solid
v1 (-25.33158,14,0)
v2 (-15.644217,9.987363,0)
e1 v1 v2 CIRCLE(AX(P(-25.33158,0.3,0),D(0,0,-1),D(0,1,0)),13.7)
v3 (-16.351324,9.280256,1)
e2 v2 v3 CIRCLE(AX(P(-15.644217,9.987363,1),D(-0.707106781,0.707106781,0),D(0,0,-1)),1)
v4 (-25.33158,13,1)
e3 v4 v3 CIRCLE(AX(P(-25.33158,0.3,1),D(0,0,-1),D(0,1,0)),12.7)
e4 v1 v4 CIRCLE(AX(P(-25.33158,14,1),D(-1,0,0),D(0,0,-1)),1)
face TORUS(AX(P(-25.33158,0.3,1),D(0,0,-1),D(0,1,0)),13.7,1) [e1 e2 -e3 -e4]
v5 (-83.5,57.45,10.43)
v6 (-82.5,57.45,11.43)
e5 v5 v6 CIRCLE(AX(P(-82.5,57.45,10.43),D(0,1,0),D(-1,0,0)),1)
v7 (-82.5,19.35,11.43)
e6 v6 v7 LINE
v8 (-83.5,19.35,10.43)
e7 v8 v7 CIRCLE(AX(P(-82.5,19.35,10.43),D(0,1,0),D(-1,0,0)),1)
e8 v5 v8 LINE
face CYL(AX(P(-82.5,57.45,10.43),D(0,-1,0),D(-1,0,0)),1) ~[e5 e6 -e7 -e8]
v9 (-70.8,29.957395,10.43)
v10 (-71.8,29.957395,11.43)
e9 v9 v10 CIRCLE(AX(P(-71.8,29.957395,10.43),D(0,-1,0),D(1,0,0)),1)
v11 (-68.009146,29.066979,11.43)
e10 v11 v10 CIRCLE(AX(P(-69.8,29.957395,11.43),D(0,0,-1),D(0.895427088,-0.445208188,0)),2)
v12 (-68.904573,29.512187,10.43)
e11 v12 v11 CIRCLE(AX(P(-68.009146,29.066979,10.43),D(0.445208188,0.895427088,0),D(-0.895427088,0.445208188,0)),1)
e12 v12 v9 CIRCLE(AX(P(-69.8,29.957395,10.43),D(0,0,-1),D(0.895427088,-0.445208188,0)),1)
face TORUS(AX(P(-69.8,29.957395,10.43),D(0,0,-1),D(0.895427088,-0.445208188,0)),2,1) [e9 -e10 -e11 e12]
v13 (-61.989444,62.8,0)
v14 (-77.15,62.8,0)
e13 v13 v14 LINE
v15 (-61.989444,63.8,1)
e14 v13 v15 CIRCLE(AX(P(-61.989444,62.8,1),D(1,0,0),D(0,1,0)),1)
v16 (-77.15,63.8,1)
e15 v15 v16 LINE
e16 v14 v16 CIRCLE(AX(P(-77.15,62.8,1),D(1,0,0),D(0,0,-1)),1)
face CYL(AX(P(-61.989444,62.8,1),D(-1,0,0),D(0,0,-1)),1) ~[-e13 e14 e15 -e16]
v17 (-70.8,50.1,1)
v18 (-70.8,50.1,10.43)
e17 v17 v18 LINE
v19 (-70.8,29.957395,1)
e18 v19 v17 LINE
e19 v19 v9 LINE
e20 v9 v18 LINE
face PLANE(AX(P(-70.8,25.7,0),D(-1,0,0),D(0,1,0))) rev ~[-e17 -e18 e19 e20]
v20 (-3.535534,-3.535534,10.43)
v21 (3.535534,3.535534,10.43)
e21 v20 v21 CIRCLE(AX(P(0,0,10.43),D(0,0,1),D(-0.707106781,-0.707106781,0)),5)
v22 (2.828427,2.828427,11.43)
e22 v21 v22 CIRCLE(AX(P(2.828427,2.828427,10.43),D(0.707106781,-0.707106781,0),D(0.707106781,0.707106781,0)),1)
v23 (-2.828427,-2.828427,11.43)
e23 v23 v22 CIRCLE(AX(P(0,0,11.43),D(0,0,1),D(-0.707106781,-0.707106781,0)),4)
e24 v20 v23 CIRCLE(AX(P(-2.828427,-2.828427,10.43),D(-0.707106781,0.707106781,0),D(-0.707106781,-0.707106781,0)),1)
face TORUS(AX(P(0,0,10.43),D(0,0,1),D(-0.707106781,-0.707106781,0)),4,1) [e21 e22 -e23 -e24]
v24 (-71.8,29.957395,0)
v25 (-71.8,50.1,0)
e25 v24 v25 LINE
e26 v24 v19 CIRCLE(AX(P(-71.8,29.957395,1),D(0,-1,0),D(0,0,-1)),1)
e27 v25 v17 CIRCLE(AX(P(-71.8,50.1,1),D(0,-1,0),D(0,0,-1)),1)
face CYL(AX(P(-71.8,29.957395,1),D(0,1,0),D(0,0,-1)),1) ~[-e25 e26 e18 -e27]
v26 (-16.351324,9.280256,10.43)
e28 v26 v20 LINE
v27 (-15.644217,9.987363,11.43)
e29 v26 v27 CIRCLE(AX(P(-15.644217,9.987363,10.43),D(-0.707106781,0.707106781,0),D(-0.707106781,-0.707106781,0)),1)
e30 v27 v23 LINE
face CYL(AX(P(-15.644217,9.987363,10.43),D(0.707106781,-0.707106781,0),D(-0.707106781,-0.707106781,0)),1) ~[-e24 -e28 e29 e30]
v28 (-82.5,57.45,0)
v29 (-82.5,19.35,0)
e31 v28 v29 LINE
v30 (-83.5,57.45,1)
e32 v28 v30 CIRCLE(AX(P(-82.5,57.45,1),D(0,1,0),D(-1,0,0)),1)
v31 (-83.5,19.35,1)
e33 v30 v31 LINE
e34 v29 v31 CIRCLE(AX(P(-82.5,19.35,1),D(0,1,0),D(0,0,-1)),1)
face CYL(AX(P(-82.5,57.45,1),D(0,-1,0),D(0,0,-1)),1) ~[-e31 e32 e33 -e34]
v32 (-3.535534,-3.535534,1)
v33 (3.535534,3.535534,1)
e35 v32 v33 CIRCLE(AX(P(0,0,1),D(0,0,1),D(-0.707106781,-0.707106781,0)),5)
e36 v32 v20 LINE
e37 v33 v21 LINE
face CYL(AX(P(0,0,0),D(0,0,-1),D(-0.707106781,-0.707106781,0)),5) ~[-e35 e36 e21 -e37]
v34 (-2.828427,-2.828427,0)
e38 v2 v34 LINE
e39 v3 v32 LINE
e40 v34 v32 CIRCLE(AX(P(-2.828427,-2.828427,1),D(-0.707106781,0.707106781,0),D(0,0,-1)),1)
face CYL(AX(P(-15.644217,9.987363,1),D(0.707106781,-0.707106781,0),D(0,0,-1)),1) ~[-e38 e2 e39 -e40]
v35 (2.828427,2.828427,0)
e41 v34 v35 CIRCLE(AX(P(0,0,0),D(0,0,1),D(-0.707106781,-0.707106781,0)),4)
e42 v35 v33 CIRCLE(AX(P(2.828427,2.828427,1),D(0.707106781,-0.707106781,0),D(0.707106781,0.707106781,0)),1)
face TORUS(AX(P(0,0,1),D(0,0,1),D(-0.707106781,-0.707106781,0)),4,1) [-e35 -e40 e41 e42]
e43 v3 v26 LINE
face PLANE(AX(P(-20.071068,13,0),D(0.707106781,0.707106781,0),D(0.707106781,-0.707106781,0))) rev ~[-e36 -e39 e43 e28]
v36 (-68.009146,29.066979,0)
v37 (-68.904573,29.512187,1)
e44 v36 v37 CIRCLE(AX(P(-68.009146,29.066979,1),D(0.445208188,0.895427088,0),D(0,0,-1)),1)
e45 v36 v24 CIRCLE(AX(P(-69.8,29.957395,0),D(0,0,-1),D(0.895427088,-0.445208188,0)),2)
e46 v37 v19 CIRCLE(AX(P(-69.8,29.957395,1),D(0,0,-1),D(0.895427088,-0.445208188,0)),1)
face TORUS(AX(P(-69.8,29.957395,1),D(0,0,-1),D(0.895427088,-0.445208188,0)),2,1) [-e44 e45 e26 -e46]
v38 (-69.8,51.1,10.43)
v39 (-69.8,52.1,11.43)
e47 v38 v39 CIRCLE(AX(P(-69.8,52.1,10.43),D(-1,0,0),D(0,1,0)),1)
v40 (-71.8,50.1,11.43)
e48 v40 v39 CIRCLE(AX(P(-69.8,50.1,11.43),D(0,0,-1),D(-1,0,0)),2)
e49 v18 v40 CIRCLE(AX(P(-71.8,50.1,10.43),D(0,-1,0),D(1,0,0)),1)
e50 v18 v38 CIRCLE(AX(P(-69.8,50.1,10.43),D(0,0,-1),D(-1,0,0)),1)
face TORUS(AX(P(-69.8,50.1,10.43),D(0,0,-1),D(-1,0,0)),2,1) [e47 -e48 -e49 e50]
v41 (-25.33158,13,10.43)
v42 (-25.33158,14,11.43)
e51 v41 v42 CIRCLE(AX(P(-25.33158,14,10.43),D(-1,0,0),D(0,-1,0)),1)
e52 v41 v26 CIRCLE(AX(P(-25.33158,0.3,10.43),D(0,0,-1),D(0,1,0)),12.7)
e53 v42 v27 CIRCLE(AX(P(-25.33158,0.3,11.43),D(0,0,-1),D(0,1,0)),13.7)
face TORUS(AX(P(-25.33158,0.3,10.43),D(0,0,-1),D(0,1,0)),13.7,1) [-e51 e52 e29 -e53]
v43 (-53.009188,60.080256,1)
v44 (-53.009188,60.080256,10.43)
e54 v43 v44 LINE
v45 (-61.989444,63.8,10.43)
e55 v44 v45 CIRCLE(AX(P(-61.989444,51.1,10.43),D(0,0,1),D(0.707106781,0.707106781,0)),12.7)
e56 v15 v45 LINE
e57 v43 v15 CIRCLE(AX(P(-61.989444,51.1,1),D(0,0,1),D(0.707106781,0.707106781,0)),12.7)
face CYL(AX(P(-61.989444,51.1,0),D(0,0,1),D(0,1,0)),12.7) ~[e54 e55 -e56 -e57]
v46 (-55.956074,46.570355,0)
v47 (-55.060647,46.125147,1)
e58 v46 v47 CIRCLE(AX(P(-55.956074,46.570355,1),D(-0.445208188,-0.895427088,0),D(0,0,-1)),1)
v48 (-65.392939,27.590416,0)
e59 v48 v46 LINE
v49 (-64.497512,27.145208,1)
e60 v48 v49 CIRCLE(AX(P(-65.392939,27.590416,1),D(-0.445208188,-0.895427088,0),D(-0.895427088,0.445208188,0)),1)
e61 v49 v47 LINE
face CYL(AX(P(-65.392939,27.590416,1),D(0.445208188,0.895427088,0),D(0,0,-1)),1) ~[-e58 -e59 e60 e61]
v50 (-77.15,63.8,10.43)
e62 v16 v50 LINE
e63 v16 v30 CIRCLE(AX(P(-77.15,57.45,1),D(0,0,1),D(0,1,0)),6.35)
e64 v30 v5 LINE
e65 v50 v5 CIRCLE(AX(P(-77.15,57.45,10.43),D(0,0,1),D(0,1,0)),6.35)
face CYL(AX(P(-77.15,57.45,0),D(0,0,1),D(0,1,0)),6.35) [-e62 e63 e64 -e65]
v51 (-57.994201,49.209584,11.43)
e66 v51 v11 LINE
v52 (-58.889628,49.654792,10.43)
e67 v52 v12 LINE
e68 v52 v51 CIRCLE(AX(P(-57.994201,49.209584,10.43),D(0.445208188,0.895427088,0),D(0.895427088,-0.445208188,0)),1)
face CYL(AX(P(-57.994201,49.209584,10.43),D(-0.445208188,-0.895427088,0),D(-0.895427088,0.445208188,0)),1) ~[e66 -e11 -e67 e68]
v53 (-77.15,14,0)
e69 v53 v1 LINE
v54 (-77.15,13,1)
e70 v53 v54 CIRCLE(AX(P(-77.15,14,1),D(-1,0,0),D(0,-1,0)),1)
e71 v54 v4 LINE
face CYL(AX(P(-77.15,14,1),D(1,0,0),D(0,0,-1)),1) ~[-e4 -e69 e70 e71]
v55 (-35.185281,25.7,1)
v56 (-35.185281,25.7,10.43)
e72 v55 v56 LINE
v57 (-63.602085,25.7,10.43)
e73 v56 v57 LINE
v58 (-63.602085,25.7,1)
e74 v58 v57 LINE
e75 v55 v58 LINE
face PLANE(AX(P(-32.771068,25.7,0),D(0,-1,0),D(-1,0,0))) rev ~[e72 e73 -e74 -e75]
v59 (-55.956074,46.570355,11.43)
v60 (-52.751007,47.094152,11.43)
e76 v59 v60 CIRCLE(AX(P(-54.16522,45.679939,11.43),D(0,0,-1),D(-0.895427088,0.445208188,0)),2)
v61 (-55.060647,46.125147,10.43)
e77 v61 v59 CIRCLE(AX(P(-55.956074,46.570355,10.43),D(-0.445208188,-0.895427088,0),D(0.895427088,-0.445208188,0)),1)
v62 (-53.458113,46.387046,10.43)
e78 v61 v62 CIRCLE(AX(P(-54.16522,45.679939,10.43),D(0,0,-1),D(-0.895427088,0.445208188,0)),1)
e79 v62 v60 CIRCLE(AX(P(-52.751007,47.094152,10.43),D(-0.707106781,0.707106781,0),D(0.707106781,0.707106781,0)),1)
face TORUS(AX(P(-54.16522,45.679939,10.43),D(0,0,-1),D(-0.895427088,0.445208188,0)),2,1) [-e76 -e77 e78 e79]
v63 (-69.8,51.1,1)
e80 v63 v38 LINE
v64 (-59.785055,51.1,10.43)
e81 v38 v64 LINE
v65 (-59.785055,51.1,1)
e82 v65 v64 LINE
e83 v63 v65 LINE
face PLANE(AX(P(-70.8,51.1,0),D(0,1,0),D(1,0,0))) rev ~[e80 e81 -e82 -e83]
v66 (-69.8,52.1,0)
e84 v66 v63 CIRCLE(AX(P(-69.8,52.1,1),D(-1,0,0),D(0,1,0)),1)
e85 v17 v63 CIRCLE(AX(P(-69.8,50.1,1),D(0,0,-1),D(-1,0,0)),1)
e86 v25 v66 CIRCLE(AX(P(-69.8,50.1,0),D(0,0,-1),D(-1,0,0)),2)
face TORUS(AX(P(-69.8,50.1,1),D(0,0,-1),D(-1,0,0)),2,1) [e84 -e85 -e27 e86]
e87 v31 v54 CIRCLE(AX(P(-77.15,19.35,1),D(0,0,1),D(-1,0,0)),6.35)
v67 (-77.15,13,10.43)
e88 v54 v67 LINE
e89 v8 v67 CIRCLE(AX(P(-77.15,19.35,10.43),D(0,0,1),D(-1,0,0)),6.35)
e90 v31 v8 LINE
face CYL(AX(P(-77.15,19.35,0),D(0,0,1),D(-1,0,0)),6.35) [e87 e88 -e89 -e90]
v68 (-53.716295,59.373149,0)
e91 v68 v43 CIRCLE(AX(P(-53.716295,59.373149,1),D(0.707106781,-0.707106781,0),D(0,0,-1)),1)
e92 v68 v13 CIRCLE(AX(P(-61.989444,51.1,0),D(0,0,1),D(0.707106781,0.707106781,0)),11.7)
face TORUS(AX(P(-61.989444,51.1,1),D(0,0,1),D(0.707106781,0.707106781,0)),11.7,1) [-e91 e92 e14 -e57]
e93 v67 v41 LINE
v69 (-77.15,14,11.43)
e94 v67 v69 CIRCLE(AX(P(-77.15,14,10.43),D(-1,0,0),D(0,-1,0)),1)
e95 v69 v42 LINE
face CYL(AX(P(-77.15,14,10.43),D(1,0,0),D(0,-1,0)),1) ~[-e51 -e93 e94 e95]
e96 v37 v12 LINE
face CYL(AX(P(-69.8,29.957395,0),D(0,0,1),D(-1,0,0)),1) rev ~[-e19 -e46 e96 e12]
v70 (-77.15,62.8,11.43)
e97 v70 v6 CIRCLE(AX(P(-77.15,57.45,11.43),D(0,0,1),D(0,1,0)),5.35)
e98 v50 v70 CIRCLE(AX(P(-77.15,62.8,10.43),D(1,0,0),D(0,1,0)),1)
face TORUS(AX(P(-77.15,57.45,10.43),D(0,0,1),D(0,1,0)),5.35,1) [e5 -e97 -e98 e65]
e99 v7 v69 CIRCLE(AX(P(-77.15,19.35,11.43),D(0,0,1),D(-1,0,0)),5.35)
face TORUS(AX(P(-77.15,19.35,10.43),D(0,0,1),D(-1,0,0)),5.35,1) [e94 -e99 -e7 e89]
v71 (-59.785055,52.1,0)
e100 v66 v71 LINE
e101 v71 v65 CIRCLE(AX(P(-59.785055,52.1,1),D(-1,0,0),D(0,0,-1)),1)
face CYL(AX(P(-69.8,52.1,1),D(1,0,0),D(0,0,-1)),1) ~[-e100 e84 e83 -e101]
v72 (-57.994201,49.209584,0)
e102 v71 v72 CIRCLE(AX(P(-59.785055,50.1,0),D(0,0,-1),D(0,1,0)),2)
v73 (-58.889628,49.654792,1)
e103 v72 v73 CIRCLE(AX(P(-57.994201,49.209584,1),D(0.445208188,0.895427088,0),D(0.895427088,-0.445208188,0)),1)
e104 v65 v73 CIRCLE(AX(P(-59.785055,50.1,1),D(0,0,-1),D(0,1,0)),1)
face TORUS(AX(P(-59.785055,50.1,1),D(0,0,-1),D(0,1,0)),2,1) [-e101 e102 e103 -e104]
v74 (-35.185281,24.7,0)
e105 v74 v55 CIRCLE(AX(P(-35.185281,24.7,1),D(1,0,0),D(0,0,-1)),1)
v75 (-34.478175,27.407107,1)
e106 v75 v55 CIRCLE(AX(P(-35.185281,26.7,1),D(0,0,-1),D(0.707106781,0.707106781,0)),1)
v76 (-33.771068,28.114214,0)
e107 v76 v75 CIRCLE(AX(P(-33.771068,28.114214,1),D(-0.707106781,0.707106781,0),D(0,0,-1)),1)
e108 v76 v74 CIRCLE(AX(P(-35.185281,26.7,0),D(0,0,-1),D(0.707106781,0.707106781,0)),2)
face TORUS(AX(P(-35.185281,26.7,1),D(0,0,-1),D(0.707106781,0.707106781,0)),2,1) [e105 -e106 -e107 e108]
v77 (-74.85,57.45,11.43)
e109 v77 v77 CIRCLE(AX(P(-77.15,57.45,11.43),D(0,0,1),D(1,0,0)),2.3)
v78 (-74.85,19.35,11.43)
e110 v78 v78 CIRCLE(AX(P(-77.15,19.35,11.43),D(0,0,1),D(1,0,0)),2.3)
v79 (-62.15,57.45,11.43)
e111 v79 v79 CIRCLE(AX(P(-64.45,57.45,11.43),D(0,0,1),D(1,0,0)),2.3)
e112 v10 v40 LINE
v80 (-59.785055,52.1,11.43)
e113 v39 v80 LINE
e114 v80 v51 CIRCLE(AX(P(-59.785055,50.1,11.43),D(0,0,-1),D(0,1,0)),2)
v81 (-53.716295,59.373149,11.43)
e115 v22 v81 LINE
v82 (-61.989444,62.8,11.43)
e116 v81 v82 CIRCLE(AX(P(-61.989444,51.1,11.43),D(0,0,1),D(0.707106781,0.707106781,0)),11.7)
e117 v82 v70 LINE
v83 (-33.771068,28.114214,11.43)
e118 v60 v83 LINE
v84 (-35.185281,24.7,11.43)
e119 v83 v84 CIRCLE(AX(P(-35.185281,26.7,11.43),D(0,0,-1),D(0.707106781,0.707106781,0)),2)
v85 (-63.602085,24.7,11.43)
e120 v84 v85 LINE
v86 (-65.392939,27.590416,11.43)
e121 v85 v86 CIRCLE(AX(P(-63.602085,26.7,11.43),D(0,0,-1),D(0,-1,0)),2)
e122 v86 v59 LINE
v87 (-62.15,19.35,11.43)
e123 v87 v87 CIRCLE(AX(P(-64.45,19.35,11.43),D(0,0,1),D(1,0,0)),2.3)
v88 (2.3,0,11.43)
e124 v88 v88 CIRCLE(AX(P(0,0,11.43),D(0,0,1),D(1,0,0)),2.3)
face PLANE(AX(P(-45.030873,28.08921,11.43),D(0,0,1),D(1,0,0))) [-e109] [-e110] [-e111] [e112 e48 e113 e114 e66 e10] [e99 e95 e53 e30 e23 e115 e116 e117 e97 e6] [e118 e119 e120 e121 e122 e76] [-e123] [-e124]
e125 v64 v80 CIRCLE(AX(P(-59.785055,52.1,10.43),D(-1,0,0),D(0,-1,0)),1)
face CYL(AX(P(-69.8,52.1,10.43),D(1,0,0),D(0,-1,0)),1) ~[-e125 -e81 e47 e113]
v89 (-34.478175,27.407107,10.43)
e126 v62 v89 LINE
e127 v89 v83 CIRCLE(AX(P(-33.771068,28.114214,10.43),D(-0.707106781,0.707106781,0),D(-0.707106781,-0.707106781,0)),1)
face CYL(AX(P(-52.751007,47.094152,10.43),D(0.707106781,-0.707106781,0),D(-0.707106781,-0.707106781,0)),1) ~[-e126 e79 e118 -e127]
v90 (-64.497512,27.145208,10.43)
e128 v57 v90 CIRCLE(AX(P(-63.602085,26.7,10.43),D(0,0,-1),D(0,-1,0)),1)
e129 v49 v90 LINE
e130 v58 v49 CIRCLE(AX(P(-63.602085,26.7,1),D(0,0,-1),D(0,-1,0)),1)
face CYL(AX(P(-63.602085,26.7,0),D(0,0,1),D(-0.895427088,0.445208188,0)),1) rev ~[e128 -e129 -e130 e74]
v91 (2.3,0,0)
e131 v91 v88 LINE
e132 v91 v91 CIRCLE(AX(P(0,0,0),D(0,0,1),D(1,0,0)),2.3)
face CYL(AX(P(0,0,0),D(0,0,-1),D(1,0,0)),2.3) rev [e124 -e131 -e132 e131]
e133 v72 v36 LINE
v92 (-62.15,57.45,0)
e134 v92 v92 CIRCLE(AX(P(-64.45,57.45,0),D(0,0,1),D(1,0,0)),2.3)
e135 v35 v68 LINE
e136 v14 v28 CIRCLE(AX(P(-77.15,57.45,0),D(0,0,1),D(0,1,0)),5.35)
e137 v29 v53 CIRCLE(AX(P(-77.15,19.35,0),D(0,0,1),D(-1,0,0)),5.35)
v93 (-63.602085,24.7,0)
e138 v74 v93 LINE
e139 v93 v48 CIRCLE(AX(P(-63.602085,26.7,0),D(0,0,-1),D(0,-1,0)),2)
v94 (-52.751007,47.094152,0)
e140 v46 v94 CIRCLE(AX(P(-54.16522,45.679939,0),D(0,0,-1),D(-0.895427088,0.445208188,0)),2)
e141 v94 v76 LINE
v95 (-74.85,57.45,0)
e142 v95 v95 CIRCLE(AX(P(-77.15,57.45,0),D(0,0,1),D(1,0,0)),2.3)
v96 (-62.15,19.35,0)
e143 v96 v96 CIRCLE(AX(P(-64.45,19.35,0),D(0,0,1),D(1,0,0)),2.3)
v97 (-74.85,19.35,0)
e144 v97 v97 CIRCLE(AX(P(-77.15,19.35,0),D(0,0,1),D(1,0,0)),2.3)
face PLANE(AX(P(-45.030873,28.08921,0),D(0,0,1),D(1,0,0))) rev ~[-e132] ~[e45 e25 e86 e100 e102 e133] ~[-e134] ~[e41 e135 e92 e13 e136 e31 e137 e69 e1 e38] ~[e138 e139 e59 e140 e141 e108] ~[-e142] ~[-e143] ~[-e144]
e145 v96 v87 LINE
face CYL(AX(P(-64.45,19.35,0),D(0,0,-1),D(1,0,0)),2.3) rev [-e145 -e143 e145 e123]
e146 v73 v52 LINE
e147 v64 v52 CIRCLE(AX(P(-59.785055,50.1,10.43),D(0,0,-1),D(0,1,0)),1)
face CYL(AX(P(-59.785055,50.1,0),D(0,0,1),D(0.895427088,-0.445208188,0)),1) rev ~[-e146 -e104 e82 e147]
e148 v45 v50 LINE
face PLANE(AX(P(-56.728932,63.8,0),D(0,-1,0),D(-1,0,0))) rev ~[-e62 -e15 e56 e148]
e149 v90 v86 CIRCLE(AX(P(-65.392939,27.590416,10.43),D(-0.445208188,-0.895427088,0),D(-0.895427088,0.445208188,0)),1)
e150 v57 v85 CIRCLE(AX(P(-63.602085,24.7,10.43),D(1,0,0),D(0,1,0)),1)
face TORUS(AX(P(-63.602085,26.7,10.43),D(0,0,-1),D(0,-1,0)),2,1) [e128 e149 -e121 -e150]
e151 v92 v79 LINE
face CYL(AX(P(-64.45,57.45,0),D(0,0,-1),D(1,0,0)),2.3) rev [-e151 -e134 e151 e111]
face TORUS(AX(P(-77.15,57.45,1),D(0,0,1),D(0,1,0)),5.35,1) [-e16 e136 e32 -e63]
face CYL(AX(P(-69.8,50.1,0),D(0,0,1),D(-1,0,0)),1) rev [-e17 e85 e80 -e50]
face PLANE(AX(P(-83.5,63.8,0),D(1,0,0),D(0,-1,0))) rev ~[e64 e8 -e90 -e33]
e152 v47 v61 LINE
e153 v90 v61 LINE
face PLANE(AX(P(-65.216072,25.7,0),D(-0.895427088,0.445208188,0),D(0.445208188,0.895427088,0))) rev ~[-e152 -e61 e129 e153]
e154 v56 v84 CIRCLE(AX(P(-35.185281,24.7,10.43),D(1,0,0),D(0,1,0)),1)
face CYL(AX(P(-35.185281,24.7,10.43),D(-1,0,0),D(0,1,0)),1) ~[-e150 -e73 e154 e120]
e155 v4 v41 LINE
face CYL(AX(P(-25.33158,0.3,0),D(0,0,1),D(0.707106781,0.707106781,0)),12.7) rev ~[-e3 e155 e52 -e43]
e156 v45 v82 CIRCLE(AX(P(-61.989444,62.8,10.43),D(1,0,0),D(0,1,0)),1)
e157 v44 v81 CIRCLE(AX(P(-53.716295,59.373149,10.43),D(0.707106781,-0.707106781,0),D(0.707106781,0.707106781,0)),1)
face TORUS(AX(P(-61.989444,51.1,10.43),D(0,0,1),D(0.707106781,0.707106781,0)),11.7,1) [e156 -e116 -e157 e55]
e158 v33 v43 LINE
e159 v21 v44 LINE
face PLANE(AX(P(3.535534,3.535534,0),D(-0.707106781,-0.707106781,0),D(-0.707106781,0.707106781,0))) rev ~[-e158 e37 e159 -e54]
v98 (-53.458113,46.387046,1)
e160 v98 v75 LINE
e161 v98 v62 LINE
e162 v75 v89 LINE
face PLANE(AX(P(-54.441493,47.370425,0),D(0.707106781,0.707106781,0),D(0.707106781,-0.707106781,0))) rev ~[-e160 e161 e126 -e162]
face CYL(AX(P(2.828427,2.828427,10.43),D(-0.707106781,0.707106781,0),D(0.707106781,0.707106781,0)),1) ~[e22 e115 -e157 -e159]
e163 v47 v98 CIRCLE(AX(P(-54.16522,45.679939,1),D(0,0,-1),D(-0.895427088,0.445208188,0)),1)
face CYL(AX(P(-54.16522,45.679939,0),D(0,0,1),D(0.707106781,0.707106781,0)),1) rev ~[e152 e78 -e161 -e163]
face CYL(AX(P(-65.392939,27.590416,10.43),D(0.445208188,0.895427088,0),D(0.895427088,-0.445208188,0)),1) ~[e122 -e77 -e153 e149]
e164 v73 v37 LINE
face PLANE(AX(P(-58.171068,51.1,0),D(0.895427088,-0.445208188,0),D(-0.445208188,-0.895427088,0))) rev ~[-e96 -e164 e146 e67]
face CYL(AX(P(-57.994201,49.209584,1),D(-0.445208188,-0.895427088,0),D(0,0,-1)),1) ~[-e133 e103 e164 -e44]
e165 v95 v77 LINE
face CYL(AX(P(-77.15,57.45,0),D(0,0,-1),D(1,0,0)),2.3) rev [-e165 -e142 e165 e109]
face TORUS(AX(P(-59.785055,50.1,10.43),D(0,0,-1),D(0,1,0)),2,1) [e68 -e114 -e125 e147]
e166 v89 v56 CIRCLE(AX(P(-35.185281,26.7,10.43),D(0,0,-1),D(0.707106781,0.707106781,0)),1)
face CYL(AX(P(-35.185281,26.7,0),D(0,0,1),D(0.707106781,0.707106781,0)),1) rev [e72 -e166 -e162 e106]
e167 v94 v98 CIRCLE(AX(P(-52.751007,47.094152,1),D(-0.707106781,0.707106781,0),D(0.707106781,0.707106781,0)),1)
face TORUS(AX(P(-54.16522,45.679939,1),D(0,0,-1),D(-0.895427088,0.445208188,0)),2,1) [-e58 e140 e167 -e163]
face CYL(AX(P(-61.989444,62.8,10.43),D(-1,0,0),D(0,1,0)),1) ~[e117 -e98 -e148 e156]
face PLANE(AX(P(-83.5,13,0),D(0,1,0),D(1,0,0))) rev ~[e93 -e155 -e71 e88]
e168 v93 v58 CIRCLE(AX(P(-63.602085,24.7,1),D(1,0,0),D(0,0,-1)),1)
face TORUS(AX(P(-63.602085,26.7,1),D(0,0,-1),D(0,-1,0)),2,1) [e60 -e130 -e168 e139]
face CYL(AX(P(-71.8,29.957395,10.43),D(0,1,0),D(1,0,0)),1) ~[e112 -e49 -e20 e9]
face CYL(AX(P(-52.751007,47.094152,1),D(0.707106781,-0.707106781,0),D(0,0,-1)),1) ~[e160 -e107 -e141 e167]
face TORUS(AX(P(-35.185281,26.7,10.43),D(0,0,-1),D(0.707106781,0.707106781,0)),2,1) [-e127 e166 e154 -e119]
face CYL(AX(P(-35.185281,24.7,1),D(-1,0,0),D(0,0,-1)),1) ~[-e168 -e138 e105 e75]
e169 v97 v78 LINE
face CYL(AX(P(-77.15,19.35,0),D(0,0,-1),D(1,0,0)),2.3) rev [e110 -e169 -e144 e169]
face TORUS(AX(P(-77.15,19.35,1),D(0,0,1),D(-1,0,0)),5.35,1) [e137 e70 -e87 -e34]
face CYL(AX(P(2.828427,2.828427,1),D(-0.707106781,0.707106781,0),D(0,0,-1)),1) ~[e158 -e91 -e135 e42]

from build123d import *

# Parameters (mm, degrees)
SKETCH1_R           = 2.3
BOSS_EXTRUDE1_DEPTH = 11.43
FILLET2_R           = 1
FILLET3_R           = 6.35
FILLET4_R           = 12.7
FILLET5_R           = 1


with BuildPart() as part:
    # Sketch1 → Boss-Extrude1 (new body)
    with BuildSketch(Plane.XY):
        with BuildLine():
            Line((-56.728932188, 63.8), (-83.5, 63.8))
            Line((-83.5, 63.8), (-83.5, 13))
            Line((-83.5, 13), (-20.071067812, 13))
            Line((-20.071067812, 13), (-3.535533906, -3.535533906))
            ThreePointArc((-3.535533906, -3.535533906), (3.535533906, -3.535533906), (3.535533906, 3.535533906))
            Line((3.535533906, 3.535533906), (-56.728932188, 63.8))
        make_face()
        with Locations((-77.15, 19.35)):
            Circle(SKETCH1_R, mode=Mode.SUBTRACT)
        with Locations((-64.45, 19.35)):
            Circle(SKETCH1_R, mode=Mode.SUBTRACT)
        Circle(SKETCH1_R, mode=Mode.SUBTRACT)
        Polygon((-32.771067812, 25.7), (-65.216072433, 25.7), (-54.441492669, 47.370424857), align=None, mode=Mode.SUBTRACT)
        Polygon((-70.8, 51.1), (-58.171067812, 51.1), (-70.8, 25.7), align=None, mode=Mode.SUBTRACT)
        with Locations((-77.15, 57.45)):
            Circle(SKETCH1_R, mode=Mode.SUBTRACT)
        with Locations((-64.45, 57.45)):
            Circle(SKETCH1_R, mode=Mode.SUBTRACT)
    extrude(amount=BOSS_EXTRUDE1_DEPTH)

    # Fillet2
    fillet2_edges = [part.edges().sort_by_distance(p)[0] for p in [
        (-65.216072433, 25.7, 5.715),
        (-32.771067812, 25.7, 5.715),
        (-54.441492669, 47.370424857, 5.715),
        (-70.8, 51.1, 5.715),
        (-70.8, 25.7, 5.715),
        (-58.171067812, 51.1, 5.715),
    ]]
    fillet(fillet2_edges, radius=FILLET2_R)

    # Fillet3
    fillet3_edges = [part.edges().sort_by_distance(p)[0] for p in [
        (-83.5, 13, 5.715),
        (-83.5, 63.8, 5.715),
    ]]
    fillet(fillet3_edges, radius=FILLET3_R)

    # Fillet4
    fillet4_edges = [part.edges().sort_by_distance(p)[0] for p in [
        (-20.071067812, 13, 5.715),
        (-56.728932188, 63.8, 5.715),
    ]]
    fillet(fillet4_edges, radius=FILLET4_R)

    # Fillet5
    fillet5_edges = [part.edges().sort_by_distance(p)[0] for p in [
        (-9.943428919, 2.872361108, 0),
        (-9.943428919, 2.872361108, 11.43),
        (-57.129364839, 62.833270063, 0),
        (-57.129364839, 62.833270063, 11.43),
        (-20.471500463, 12.033270063, 0),
        (-20.471500463, 12.033270063, 11.43),
        (-24.736827202, 31.807895014, 0),
        (3.535533906, -3.535533906, 0),
        (-49.393683119, 25.7, 0),
        (-49.393683119, 25.7, 11.43),
        (-43.968144034, 36.897076222, 0),
        (-43.968144034, 36.897076222, 11.43),
        (-59.779079648, 36.635177628, 0),
        (-59.779079648, 36.635177628, 11.43),
        (-70.8, 40.028697472, 0),
        (-70.8, 40.028697472, 11.43),
        (-63.897100602, 39.583489284, 0),
        (-63.897100602, 39.583489284, 11.43),
        (-64.79252769, 51.1, 0),
        (-64.79252769, 51.1, 11.43),
        (-34.261401842, 26.317316568, 0),
        (-34.261401842, 26.317316568, 11.43),
        (-64.452146094, 26.173316123, 0),
        (-64.452146094, 26.173316123, 11.43),
        (-70.028662319, 28.983889143, 0),
        (-70.028662319, 28.983889143, 11.43),
        (-70.507106781, 50.807106781, 0),
        (-70.507106781, 50.807106781, 11.43),
        (-58.934994151, 50.626683877, 0),
        (-58.934994151, 50.626683877, 11.43),
        (-54.32650836, 46.666846246, 0),
        (3.535533906, -3.535533906, 11.43),
        (-54.32650836, 46.666846246, 11.43),
        (-24.736827202, 31.807895014, 11.43),
        (-51.240790027, 13, 0),
        (-51.240790027, 13, 11.43),
        (-83.5, 38.4, 0),
        (-69.569722215, 63.8, 0),
        (-81.640128061, 61.940128061, 0),
        (-81.640128061, 14.859871939, 0),
        (-83.5, 38.4, 11.43),
        (-69.569722215, 63.8, 11.43),
        (-81.640128061, 61.940128061, 11.43),
        (-81.640128061, 14.859871939, 11.43),
    ]]
    fillet(fillet5_edges, radius=FILLET5_R)


solid = part.part
